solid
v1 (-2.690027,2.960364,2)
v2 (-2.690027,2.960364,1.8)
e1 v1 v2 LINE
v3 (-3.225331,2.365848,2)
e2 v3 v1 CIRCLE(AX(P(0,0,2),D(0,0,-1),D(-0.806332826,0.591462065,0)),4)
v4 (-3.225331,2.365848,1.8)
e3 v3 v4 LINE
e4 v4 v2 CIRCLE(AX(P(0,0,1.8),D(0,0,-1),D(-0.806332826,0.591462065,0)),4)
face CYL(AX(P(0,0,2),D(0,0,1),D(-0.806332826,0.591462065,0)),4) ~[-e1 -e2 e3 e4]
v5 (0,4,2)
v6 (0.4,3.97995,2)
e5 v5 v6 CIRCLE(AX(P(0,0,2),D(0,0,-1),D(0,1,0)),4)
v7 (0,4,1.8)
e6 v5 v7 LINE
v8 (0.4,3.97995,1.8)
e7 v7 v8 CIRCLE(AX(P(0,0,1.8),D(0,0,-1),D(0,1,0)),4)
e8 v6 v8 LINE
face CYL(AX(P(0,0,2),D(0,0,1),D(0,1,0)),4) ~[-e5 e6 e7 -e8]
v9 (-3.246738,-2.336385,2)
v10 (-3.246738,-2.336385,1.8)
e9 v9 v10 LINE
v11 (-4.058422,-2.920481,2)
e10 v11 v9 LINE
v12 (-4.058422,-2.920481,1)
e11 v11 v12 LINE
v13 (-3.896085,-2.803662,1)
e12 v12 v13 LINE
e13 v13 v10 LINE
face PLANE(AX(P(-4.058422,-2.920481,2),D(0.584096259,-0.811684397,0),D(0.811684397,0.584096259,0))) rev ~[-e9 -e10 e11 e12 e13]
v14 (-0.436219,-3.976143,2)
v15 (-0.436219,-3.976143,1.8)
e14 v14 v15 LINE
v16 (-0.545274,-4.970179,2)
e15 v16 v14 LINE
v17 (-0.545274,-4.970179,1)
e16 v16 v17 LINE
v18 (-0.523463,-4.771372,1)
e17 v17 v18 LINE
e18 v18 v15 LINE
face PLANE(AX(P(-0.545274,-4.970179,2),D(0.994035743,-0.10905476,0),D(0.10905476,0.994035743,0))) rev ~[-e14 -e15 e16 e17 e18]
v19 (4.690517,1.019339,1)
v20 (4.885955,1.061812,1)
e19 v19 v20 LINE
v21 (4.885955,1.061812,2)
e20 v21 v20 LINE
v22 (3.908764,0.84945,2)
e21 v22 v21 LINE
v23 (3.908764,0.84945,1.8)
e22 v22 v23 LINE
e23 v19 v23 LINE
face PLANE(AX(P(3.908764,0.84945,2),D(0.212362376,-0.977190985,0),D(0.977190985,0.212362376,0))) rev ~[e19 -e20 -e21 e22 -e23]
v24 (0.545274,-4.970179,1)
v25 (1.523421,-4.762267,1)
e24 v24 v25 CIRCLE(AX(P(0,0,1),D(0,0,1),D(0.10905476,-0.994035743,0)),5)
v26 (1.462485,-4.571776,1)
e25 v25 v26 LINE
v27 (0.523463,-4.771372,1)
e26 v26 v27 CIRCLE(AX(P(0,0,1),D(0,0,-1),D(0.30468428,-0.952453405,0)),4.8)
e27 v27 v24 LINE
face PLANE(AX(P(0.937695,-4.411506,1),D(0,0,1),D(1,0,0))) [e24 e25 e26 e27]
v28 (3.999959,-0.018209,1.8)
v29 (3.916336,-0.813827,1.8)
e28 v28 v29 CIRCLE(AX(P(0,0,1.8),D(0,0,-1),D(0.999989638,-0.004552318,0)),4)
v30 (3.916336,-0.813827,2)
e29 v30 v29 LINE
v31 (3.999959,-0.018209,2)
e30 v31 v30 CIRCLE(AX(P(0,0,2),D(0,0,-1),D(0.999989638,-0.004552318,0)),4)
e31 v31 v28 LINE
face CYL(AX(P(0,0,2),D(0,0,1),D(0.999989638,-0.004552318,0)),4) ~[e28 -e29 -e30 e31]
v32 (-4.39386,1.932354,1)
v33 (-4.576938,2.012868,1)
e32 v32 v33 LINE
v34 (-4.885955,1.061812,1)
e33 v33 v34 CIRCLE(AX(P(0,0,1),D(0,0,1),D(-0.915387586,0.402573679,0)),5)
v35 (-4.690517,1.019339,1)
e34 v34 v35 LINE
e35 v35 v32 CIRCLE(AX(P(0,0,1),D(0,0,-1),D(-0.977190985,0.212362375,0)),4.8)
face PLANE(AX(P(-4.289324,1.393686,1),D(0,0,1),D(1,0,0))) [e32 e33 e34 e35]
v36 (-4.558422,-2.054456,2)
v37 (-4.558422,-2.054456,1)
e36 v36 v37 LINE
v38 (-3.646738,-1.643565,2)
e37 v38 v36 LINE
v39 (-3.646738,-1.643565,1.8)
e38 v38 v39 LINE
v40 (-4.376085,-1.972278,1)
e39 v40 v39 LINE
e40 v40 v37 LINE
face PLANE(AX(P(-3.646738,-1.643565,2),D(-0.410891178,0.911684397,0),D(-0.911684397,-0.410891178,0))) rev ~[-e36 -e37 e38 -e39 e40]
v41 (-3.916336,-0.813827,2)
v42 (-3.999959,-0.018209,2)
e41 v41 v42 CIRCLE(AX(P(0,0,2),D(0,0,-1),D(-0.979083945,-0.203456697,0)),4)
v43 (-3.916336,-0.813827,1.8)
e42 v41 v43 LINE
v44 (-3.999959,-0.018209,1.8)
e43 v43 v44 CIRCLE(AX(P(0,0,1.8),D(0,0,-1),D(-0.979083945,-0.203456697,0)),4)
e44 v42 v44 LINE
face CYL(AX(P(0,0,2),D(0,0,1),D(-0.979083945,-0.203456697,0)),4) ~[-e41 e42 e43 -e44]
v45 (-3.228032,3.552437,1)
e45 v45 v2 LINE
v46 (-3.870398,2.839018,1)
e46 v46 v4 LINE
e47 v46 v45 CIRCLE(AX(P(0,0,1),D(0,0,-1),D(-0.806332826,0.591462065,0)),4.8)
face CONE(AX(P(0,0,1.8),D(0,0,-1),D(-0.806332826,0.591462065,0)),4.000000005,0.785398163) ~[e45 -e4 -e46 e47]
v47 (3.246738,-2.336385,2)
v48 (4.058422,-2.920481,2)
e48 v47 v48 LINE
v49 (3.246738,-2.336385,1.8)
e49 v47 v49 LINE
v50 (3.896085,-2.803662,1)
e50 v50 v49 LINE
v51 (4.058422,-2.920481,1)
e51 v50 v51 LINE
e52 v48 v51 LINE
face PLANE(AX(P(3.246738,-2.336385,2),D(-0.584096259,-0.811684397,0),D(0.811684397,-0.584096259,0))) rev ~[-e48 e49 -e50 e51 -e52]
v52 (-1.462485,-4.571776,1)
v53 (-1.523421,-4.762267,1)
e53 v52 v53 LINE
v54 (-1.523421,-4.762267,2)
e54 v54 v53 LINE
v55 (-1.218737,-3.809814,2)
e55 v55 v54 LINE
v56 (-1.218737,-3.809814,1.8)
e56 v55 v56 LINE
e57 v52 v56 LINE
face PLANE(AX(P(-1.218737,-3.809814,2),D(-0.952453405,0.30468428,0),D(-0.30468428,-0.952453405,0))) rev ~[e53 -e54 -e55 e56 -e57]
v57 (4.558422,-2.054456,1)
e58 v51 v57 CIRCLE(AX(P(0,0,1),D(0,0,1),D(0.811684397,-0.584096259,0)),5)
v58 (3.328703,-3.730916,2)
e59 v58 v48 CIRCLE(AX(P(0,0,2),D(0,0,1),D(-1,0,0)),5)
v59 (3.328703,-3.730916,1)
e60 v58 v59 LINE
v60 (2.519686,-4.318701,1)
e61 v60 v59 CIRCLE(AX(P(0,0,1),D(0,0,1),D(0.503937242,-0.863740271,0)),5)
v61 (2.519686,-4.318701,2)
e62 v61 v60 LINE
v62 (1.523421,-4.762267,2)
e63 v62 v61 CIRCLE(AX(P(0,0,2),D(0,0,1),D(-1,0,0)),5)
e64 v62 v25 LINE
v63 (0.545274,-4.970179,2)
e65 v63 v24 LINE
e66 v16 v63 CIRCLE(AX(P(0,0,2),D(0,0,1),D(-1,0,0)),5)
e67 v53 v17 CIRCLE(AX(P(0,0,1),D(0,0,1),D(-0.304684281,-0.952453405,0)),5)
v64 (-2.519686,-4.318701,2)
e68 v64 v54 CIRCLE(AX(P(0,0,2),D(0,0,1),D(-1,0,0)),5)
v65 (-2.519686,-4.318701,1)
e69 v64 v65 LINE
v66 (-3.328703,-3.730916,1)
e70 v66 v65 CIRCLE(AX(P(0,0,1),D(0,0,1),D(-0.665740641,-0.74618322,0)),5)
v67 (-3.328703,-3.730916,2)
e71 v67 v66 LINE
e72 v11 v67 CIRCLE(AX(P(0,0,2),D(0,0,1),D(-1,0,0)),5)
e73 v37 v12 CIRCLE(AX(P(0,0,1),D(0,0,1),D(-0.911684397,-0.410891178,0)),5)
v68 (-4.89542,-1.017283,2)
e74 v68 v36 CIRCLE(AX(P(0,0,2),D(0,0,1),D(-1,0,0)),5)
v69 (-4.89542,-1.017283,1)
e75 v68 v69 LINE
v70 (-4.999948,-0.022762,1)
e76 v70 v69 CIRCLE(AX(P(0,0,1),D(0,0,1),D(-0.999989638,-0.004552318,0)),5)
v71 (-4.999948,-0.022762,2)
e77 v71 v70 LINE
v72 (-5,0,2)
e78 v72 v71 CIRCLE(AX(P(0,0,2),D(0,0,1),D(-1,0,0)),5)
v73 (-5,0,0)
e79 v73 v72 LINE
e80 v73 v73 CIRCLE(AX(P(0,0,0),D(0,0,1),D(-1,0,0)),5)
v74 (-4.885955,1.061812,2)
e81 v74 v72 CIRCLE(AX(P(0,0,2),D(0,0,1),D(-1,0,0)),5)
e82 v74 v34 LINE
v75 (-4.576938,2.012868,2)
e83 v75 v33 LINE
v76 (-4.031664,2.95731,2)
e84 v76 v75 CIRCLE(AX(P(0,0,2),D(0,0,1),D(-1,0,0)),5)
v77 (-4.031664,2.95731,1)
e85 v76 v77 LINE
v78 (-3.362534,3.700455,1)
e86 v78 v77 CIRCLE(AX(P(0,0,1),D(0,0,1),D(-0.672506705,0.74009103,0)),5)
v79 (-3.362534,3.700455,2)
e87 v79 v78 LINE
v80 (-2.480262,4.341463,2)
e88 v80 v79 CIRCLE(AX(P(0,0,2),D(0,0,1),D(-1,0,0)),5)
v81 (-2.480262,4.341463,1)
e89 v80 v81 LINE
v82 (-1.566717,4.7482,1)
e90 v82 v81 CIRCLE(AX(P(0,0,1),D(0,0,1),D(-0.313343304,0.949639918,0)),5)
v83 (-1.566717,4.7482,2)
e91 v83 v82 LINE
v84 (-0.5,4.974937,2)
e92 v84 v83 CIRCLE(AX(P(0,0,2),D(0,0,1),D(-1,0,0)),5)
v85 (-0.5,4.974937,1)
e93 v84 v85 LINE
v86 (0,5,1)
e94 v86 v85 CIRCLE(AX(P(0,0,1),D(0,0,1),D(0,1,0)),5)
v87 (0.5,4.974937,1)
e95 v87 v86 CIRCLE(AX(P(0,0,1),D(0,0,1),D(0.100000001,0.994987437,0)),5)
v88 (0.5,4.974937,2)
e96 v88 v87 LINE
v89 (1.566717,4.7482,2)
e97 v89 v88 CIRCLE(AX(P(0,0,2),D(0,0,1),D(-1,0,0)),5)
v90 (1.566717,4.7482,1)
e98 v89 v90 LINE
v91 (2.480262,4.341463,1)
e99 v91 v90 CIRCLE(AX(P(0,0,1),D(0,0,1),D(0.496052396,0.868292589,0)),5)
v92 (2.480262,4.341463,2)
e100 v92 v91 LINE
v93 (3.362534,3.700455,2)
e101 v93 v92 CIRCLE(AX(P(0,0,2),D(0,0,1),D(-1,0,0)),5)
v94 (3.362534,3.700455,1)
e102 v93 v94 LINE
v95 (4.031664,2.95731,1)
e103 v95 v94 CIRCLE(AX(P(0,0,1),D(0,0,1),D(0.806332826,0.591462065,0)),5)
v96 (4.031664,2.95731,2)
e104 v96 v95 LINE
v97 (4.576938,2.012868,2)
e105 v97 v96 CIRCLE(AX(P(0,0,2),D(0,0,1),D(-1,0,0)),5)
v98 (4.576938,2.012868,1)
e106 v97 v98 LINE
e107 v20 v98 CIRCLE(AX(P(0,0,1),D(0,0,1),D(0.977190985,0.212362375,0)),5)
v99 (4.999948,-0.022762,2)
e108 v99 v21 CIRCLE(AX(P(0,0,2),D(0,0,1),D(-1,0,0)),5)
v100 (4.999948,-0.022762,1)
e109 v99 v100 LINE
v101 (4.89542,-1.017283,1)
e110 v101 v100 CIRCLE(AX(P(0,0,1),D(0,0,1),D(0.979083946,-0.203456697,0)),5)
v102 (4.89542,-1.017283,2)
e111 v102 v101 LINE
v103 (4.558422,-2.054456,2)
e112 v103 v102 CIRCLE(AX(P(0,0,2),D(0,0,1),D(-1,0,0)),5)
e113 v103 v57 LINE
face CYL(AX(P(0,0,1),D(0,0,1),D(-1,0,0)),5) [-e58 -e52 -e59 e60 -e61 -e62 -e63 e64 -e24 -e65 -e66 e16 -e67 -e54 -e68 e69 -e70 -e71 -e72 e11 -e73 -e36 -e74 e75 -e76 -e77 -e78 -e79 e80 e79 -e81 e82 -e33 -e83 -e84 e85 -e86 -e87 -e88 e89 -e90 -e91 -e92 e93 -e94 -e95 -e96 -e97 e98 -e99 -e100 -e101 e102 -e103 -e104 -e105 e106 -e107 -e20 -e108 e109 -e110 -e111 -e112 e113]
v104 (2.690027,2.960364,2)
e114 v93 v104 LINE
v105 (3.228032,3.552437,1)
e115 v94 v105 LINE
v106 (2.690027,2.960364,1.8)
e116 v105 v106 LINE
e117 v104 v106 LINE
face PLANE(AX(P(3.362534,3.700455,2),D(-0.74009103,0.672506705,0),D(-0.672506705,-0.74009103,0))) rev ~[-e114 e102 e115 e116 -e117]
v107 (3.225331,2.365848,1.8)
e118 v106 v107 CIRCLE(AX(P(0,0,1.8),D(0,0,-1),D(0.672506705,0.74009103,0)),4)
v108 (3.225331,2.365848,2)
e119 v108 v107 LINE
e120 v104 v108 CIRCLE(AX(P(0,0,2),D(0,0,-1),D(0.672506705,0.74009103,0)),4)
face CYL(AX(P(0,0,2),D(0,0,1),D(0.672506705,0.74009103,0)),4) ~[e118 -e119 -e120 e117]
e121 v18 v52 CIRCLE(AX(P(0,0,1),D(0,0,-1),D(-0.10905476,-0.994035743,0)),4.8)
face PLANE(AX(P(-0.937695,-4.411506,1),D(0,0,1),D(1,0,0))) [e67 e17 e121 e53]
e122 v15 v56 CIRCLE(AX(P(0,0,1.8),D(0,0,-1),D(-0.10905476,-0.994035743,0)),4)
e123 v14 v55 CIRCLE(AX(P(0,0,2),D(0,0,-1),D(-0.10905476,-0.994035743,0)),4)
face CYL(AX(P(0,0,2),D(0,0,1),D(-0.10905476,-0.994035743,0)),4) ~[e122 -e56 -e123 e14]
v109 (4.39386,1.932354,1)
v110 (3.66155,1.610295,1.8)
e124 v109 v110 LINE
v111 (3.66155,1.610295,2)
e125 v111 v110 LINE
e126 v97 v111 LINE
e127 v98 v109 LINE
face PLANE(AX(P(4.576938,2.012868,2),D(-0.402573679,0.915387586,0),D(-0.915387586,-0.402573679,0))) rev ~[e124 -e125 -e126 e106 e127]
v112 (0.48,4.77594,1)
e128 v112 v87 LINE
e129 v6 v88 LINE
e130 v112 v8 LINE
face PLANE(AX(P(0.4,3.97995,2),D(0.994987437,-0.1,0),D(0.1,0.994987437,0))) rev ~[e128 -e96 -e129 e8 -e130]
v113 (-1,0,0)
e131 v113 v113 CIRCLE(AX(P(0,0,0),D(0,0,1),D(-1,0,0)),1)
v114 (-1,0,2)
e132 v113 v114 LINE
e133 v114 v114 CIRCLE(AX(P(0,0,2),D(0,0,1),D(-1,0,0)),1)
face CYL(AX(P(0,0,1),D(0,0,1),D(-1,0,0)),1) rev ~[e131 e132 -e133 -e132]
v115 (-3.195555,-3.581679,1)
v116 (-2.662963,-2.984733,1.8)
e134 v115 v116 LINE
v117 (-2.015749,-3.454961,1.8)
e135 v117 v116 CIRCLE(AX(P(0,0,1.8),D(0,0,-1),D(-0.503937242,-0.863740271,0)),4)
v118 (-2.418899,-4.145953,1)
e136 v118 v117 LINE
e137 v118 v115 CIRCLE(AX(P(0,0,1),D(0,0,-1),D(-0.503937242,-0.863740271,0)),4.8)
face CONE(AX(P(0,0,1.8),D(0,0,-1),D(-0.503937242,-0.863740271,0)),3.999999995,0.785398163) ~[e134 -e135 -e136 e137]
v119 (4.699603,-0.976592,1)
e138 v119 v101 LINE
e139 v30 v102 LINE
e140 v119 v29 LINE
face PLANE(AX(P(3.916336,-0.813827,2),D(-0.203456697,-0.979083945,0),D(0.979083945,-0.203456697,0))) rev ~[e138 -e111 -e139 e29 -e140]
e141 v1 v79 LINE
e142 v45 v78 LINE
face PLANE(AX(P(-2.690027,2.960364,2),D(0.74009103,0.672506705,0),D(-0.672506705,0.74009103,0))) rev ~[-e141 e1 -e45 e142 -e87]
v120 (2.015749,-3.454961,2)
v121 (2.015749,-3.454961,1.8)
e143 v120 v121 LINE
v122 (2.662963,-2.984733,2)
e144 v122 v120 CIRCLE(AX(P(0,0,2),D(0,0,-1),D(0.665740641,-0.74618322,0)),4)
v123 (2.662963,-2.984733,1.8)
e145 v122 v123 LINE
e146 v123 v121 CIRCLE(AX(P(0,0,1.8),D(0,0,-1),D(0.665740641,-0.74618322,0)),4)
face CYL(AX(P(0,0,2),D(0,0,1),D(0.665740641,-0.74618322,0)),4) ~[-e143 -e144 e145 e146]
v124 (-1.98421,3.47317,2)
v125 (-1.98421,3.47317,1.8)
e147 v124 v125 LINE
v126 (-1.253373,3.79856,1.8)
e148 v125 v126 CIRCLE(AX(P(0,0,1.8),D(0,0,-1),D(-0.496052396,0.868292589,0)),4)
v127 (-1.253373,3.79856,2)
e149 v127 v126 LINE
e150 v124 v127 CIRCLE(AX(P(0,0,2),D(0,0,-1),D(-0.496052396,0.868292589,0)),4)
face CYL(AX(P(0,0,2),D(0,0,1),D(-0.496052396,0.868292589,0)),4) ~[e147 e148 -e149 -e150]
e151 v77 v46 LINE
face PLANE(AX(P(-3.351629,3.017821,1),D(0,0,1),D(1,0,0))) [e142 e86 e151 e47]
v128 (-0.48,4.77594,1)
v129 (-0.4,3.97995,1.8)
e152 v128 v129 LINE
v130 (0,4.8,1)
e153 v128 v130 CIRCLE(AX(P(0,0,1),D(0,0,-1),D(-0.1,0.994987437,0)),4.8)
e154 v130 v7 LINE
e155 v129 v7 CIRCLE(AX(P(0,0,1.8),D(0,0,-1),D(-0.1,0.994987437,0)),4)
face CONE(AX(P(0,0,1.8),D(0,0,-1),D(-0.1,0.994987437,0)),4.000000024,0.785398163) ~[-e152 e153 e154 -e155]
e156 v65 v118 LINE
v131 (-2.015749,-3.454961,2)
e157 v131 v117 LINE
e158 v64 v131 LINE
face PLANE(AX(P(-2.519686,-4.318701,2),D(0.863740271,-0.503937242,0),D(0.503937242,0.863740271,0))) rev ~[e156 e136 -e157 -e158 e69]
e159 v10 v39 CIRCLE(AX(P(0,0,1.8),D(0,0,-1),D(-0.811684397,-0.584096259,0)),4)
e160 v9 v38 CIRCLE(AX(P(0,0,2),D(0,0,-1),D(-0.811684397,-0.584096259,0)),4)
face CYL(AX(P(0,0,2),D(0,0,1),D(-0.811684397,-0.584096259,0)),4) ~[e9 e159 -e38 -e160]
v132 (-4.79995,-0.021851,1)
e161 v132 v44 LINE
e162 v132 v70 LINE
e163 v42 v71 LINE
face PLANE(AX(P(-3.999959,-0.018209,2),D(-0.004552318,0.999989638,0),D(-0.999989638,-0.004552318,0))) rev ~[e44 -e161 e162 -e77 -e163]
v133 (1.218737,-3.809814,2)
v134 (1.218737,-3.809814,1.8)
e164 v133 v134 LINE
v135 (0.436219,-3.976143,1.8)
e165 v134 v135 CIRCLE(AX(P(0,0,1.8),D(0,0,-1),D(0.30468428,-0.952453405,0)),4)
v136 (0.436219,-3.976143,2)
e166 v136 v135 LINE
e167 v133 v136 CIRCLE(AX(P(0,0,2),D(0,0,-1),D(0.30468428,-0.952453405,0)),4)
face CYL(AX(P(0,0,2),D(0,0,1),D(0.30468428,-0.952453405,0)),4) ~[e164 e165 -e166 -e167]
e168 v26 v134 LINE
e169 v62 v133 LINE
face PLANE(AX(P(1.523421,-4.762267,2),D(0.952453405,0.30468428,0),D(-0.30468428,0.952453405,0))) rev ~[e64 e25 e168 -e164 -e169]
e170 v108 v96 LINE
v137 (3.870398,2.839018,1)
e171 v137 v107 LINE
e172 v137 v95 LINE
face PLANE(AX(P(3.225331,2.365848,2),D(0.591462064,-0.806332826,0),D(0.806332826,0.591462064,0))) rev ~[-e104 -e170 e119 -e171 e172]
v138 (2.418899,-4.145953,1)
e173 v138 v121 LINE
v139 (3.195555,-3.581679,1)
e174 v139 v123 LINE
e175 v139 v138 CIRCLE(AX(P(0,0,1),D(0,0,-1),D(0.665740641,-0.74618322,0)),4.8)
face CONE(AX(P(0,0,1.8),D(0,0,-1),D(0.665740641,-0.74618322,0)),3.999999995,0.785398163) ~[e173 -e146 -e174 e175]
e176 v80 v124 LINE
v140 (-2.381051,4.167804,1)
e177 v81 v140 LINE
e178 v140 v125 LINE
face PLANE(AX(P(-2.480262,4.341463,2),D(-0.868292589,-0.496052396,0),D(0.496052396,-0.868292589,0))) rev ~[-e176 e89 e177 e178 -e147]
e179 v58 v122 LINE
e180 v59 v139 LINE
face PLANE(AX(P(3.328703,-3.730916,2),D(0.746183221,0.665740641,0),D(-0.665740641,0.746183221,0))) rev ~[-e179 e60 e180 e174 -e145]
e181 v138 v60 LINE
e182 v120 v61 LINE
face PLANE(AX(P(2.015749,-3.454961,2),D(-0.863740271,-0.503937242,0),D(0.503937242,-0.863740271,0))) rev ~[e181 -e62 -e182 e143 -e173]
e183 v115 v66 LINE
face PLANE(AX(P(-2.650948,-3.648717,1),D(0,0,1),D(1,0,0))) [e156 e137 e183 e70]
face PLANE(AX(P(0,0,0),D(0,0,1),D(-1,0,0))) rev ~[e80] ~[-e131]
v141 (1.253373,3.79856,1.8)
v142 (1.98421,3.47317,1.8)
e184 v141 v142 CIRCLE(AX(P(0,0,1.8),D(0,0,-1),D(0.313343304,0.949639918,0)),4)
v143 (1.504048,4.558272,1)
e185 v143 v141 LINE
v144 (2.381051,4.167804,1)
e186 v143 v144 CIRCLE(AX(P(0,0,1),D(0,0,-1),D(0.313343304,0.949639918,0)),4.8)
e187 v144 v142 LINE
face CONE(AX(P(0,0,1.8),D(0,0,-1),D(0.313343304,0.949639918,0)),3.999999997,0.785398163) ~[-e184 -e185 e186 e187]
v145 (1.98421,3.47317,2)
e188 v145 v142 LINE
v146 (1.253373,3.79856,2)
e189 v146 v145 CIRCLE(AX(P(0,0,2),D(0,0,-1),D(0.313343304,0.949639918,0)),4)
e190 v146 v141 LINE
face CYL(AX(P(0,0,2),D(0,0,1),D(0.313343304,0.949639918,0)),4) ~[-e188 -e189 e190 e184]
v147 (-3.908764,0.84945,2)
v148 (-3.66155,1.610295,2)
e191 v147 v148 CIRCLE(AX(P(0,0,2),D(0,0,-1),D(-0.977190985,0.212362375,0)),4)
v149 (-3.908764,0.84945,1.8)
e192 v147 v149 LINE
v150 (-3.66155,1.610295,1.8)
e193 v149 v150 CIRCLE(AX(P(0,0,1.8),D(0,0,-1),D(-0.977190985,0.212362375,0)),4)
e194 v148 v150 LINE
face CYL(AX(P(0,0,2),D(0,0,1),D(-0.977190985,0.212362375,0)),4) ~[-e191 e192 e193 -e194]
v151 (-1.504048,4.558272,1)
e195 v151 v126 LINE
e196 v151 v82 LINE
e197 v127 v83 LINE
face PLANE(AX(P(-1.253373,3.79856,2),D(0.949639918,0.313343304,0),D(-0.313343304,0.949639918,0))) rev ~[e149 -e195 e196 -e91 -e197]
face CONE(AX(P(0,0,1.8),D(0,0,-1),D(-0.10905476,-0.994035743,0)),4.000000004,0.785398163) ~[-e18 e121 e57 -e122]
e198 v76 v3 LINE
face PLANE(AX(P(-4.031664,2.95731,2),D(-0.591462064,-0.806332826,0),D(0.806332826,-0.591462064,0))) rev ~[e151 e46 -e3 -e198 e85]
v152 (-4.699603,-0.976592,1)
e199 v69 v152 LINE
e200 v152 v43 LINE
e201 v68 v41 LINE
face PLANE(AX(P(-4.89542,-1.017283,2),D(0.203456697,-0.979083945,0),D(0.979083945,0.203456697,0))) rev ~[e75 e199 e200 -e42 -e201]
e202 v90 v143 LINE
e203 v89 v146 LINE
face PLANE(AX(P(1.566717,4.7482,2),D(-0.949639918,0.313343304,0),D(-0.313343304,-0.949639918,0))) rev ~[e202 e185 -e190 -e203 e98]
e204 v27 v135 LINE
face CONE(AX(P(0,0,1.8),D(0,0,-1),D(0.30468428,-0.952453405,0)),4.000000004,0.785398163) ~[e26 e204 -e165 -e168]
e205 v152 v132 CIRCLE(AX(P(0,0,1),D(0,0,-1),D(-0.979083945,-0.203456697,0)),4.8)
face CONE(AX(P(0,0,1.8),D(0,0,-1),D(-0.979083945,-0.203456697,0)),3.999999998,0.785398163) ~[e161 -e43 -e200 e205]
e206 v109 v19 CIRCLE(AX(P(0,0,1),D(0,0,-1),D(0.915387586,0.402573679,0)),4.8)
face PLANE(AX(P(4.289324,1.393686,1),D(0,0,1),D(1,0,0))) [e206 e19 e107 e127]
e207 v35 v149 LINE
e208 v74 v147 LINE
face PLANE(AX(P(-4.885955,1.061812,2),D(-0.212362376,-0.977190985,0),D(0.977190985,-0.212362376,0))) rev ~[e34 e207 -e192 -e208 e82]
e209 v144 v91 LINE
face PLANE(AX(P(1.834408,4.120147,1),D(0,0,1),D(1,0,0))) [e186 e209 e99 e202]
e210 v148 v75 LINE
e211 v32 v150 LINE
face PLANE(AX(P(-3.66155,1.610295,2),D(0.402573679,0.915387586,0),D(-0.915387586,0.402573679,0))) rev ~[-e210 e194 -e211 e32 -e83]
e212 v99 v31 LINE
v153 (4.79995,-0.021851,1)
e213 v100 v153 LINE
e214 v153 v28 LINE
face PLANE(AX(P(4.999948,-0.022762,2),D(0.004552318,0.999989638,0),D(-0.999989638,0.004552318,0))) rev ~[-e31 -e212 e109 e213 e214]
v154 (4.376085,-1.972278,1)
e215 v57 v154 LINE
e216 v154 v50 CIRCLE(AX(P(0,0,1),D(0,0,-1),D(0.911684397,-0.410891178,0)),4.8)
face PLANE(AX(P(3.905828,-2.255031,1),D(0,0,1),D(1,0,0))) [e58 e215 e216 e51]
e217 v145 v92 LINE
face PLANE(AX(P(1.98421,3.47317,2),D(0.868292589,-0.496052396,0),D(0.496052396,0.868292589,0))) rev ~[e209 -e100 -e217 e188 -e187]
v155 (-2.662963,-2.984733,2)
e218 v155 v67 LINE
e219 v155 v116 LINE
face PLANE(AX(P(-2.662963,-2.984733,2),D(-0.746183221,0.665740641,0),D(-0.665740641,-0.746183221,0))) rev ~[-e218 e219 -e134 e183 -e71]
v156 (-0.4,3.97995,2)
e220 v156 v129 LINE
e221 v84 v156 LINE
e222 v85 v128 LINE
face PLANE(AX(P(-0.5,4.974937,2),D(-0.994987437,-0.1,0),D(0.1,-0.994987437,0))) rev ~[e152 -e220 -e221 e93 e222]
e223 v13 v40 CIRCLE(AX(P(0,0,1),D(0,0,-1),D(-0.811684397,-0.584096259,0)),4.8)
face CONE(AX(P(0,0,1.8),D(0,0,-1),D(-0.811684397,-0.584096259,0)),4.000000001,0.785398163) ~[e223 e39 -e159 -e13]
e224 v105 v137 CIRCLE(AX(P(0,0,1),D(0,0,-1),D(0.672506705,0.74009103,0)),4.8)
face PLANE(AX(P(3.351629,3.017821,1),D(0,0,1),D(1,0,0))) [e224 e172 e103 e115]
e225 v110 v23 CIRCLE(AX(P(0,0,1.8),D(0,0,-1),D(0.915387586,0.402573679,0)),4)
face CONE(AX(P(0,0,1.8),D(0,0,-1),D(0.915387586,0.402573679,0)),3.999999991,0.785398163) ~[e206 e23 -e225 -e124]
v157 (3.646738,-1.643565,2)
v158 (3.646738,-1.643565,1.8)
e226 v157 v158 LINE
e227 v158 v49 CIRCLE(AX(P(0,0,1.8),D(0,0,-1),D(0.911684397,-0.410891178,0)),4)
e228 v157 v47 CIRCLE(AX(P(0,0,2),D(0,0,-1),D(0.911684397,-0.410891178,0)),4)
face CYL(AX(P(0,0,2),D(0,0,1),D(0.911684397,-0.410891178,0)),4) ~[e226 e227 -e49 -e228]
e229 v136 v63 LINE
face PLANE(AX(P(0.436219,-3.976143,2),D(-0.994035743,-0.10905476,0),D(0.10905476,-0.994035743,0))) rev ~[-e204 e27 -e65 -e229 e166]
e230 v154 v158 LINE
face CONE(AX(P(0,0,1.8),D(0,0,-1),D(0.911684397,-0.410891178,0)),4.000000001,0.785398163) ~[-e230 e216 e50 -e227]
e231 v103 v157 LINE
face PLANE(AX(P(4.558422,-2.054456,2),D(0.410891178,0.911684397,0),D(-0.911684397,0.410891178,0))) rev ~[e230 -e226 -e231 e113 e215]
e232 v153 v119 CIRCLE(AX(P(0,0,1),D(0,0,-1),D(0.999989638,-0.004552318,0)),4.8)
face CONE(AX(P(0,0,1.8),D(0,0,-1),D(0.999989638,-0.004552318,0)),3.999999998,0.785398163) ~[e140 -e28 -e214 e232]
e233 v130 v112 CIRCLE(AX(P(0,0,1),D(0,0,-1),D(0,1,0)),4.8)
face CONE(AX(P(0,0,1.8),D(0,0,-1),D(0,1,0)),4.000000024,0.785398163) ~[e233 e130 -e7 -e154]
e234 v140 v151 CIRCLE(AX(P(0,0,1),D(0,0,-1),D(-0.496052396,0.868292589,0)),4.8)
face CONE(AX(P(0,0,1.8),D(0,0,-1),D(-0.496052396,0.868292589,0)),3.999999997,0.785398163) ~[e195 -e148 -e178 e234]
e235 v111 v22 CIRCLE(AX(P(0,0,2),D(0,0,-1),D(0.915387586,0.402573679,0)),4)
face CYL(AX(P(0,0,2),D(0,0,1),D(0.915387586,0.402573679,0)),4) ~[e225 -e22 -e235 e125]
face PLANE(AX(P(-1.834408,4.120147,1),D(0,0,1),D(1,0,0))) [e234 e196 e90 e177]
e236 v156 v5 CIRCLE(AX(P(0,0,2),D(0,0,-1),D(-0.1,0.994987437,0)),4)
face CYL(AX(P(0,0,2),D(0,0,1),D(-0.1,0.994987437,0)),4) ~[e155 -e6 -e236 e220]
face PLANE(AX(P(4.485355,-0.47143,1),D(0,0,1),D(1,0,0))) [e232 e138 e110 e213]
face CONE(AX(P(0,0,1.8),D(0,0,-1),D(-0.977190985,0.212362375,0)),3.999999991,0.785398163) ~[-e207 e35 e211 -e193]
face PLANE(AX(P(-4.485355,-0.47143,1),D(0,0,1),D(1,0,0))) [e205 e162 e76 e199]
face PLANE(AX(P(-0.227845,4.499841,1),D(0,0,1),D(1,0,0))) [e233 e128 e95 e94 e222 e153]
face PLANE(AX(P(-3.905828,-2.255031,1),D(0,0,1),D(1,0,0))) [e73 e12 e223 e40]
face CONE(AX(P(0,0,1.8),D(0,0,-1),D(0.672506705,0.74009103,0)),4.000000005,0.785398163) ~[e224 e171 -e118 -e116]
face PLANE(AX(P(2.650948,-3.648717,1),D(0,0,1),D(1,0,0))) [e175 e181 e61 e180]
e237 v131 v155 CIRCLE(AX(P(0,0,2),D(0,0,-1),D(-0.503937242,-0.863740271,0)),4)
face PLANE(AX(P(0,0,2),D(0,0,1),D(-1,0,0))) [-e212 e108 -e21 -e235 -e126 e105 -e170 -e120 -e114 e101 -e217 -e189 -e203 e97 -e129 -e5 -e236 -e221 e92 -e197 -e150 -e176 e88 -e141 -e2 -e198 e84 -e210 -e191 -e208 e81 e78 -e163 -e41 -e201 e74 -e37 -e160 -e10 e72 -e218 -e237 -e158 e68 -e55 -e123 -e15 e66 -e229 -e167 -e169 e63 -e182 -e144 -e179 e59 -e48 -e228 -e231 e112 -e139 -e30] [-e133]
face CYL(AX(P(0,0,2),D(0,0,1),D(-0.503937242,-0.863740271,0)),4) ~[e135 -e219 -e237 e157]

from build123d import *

# Parameters (mm, degrees)
F0_W     = 4
F0_H     = 2
F3_DEPTH = 1
F4_SIZE  = 0.8


with BuildPart() as f1:
    # F0 (on Front) → F1 (revolve)
    with BuildSketch(Plane.XZ):
        with Locations((-3, 1)):
            Rectangle(F0_W, F0_H)
    revolve(axis=Axis((0, 0, 1), (0, 0, 1)))

    # F2 (on face) → F3 (cut)
    with BuildSketch(Plane.XY.offset(2)):
        with BuildLine():
            ThreePointArc((-0.4, 3.9799497484), (-0.2002511002, 3.9949842924), (0, 4))
            Line((0, 4), (0, 4.9749371855))
            Line((0, 4.9749371855), (-0.5, 4.9749371855))
            Line((-0.5, 4.9749371855), (-0.4, 3.9799497484))
        make_face()
        with BuildLine():
            Line((0, 4.9749371855), (0, 4))
            ThreePointArc((0, 4), (0.2002511002, 3.9949842924), (0.4, 3.9799497484))
            Line((0.4, 3.9799497484), (0.5, 4.9749371855))
            Line((0.5, 4.9749371855), (0, 4.9749371855))
        make_face()
        with BuildLine():
            Line((0, 5), (0, 4.9749371855))
            Line((0, 4.9749371855), (0.5, 4.9749371855))
            ThreePointArc((0.5, 4.9749371855), (0.2503138753, 4.9937303656), (0, 5))
        make_face()
        with BuildLine():
            Line((-0.5, 4.9749371855), (0, 4.9749371855))
            Line((0, 4.9749371855), (0, 5))
            ThreePointArc((0, 5), (-0.2503138753, 4.9937303656), (-0.5, 4.9749371855))
        make_face()
        with BuildLine():
            Line((1.5667165215, 4.7481995894), (1.2533732172, 3.7985596716))
            ThreePointArc((1.2533732172, 3.7985596716), (1.6269465723, 3.6541818306), (1.9842095833, 3.4731703571))
            Line((1.9842095833, 3.4731703571), (2.4802619792, 4.3414629464))
            ThreePointArc((2.4802619792, 4.3414629464), (2.0336832154, 4.5677272882), (1.5667165215, 4.7481995894))
        make_face()
        with BuildLine():
            Line((3.3625335233, 3.7004551483), (2.6900268187, 2.9603641186))
            ThreePointArc((2.6900268187, 2.9603641186), (2.9725793019, 2.6765224254), (3.2253313037, 2.3658482583))
            Line((3.2253313037, 2.3658482583), (4.0316641297, 2.9573103228))
            ThreePointArc((4.0316641297, 2.9573103228), (3.7157241274, 3.3456530318), (3.3625335233, 3.7004551483))
        make_face()
        with BuildLine():
            Line((4.5769379313, 2.0128683944), (3.661550345, 1.6102947155))
            ThreePointArc((3.661550345, 1.6102947155), (3.8042260652, 1.2360679775), (3.9087639405, 0.8494495025))
            Line((3.9087639405, 0.8494495025), (4.8859549256, 1.0618118781))
            ThreePointArc((4.8859549256, 1.0618118781), (4.7552825815, 1.5450849719), (4.5769379313, 2.0128683944))
        make_face()
        with BuildLine():
            Line((4.9999481907, -0.0227615912), (3.9999585526, -0.0182092729))
            ThreePointArc((3.9999585526, -0.0182092729), (3.9780875815, -0.4181138531), (3.916335782, -0.8138267892))
            Line((3.916335782, -0.8138267892), (4.8954197275, -1.0172834865))
            ThreePointArc((4.8954197275, -1.0172834865), (4.9726094768, -0.5226423163), (4.9999481907, -0.0227615912))
        make_face()
        with BuildLine():
            Line((4.5584219849, -2.0544558909), (3.6467375879, -1.6435647127))
            ThreePointArc((3.6467375879, -1.6435647127), (3.4641016151, -2), (3.2467375879, -2.3363850357))
            Line((3.2467375879, -2.3363850357), (4.0584219849, -2.9204812947))
            ThreePointArc((4.0584219849, -2.9204812947), (4.3301270189, -2.5), (4.5584219849, -2.0544558909))
        make_face()
        with BuildLine():
            Line((3.3287032059, -3.7309161029), (2.6629625647, -2.9847328823))
            ThreePointArc((2.6629625647, -2.9847328823), (2.3511410092, -3.2360679775), (2.0157489692, -3.4549610842))
            Line((2.0157489692, -3.4549610842), (2.5196862116, -4.3187013552))
            ThreePointArc((2.5196862116, -4.3187013552), (2.9389262615, -4.0450849719), (3.3287032059, -3.7309161029))
        make_face()
        with BuildLine():
            Line((1.5234214023, -4.7622670264), (1.2187371219, -3.8098136211))
            ThreePointArc((1.2187371219, -3.8098136211), (0.8316467633, -3.9125904029), (0.4362190413, -3.9761429738))
            Line((0.4362190413, -3.9761429738), (0.5452738016, -4.9701787172))
            ThreePointArc((0.5452738016, -4.9701787172), (1.0395584541, -4.8907380037), (1.5234214023, -4.7622670264))
        make_face()
        with BuildLine():
            Line((-0.5452738016, -4.9701787172), (-0.4362190413, -3.9761429738))
            ThreePointArc((-0.4362190413, -3.9761429738), (-0.8316467633, -3.9125904029), (-1.2187371219, -3.8098136211))
            Line((-1.2187371219, -3.8098136211), (-1.5234214023, -4.7622670264))
            ThreePointArc((-1.5234214023, -4.7622670264), (-1.0395584541, -4.8907380037), (-0.5452738016, -4.9701787172))
        make_face()
        with BuildLine():
            Line((-2.5196862116, -4.3187013552), (-2.0157489692, -3.4549610842))
            ThreePointArc((-2.0157489692, -3.4549610842), (-2.3511410092, -3.2360679775), (-2.6629625647, -2.9847328823))
            Line((-2.6629625647, -2.9847328823), (-3.3287032059, -3.7309161029))
            ThreePointArc((-3.3287032059, -3.7309161029), (-2.9389262615, -4.0450849719), (-2.5196862116, -4.3187013552))
        make_face()
        with BuildLine():
            Line((-4.0584219849, -2.9204812947), (-3.2467375879, -2.3363850357))
            ThreePointArc((-3.2467375879, -2.3363850357), (-3.4641016151, -2), (-3.6467375879, -1.6435647127))
            Line((-3.6467375879, -1.6435647127), (-4.5584219849, -2.0544558909))
            ThreePointArc((-4.5584219849, -2.0544558909), (-4.3301270189, -2.5), (-4.0584219849, -2.9204812947))
        make_face()
        with BuildLine():
            Line((-4.8954197275, -1.0172834865), (-3.916335782, -0.8138267892))
            ThreePointArc((-3.916335782, -0.8138267892), (-3.9780875815, -0.4181138531), (-3.9999585526, -0.0182092729))
            Line((-3.9999585526, -0.0182092729), (-4.9999481907, -0.0227615912))
            ThreePointArc((-4.9999481907, -0.0227615912), (-4.9726094768, -0.5226423163), (-4.8954197275, -1.0172834865))
        make_face()
        with BuildLine():
            Line((-4.8859549256, 1.0618118781), (-3.9087639405, 0.8494495025))
            ThreePointArc((-3.9087639405, 0.8494495025), (-3.8042260652, 1.2360679775), (-3.661550345, 1.6102947155))
            Line((-3.661550345, 1.6102947155), (-4.5769379313, 2.0128683944))
            ThreePointArc((-4.5769379313, 2.0128683944), (-4.7552825815, 1.5450849719), (-4.8859549256, 1.0618118781))
        make_face()
        with BuildLine():
            Line((-4.0316641297, 2.9573103228), (-3.2253313037, 2.3658482583))
            ThreePointArc((-3.2253313037, 2.3658482583), (-2.9725793019, 2.6765224254), (-2.6900268187, 2.9603641186))
            Line((-2.6900268187, 2.9603641186), (-3.3625335233, 3.7004551483))
            ThreePointArc((-3.3625335233, 3.7004551483), (-3.7157241274, 3.3456530318), (-4.0316641297, 2.9573103228))
        make_face()
        with BuildLine():
            Line((-2.4802619792, 4.3414629464), (-1.9842095833, 3.4731703571))
            ThreePointArc((-1.9842095833, 3.4731703571), (-1.6269465723, 3.6541818306), (-1.2533732172, 3.7985596716))
            Line((-1.2533732172, 3.7985596716), (-1.5667165215, 4.7481995894))
            ThreePointArc((-1.5667165215, 4.7481995894), (-2.0336832154, 4.5677272882), (-2.4802619792, 4.3414629464))
        make_face()
    extrude(amount=-F3_DEPTH, mode=Mode.SUBTRACT)

    # F4
    f4_edges = [f1.edges().sort_by_distance(p)[0] for p in [
        (-3.978088, -0.418114, 1),
        (-3.464102, -2, 1),
        (-2.351141, -3.236068, 1),
        (-0.831647, -3.91259, 1),
        (0.831647, -3.91259, 1),
        (2.351141, -3.236068, 1),
        (3.464102, -2, 1),
        (3.978088, -0.418114, 1),
        (3.804226, 1.236068, 1),
        (2.972579, 2.676522, 1),
        (1.626947, 3.654182, 1),
        (0, 4, 1),
        (-1.626947, 3.654182, 1),
        (-2.972579, 2.676522, 1),
        (-3.804226, 1.236068, 1),
    ]]
    chamfer(f4_edges, length=F4_SIZE)


solid = f1.part
